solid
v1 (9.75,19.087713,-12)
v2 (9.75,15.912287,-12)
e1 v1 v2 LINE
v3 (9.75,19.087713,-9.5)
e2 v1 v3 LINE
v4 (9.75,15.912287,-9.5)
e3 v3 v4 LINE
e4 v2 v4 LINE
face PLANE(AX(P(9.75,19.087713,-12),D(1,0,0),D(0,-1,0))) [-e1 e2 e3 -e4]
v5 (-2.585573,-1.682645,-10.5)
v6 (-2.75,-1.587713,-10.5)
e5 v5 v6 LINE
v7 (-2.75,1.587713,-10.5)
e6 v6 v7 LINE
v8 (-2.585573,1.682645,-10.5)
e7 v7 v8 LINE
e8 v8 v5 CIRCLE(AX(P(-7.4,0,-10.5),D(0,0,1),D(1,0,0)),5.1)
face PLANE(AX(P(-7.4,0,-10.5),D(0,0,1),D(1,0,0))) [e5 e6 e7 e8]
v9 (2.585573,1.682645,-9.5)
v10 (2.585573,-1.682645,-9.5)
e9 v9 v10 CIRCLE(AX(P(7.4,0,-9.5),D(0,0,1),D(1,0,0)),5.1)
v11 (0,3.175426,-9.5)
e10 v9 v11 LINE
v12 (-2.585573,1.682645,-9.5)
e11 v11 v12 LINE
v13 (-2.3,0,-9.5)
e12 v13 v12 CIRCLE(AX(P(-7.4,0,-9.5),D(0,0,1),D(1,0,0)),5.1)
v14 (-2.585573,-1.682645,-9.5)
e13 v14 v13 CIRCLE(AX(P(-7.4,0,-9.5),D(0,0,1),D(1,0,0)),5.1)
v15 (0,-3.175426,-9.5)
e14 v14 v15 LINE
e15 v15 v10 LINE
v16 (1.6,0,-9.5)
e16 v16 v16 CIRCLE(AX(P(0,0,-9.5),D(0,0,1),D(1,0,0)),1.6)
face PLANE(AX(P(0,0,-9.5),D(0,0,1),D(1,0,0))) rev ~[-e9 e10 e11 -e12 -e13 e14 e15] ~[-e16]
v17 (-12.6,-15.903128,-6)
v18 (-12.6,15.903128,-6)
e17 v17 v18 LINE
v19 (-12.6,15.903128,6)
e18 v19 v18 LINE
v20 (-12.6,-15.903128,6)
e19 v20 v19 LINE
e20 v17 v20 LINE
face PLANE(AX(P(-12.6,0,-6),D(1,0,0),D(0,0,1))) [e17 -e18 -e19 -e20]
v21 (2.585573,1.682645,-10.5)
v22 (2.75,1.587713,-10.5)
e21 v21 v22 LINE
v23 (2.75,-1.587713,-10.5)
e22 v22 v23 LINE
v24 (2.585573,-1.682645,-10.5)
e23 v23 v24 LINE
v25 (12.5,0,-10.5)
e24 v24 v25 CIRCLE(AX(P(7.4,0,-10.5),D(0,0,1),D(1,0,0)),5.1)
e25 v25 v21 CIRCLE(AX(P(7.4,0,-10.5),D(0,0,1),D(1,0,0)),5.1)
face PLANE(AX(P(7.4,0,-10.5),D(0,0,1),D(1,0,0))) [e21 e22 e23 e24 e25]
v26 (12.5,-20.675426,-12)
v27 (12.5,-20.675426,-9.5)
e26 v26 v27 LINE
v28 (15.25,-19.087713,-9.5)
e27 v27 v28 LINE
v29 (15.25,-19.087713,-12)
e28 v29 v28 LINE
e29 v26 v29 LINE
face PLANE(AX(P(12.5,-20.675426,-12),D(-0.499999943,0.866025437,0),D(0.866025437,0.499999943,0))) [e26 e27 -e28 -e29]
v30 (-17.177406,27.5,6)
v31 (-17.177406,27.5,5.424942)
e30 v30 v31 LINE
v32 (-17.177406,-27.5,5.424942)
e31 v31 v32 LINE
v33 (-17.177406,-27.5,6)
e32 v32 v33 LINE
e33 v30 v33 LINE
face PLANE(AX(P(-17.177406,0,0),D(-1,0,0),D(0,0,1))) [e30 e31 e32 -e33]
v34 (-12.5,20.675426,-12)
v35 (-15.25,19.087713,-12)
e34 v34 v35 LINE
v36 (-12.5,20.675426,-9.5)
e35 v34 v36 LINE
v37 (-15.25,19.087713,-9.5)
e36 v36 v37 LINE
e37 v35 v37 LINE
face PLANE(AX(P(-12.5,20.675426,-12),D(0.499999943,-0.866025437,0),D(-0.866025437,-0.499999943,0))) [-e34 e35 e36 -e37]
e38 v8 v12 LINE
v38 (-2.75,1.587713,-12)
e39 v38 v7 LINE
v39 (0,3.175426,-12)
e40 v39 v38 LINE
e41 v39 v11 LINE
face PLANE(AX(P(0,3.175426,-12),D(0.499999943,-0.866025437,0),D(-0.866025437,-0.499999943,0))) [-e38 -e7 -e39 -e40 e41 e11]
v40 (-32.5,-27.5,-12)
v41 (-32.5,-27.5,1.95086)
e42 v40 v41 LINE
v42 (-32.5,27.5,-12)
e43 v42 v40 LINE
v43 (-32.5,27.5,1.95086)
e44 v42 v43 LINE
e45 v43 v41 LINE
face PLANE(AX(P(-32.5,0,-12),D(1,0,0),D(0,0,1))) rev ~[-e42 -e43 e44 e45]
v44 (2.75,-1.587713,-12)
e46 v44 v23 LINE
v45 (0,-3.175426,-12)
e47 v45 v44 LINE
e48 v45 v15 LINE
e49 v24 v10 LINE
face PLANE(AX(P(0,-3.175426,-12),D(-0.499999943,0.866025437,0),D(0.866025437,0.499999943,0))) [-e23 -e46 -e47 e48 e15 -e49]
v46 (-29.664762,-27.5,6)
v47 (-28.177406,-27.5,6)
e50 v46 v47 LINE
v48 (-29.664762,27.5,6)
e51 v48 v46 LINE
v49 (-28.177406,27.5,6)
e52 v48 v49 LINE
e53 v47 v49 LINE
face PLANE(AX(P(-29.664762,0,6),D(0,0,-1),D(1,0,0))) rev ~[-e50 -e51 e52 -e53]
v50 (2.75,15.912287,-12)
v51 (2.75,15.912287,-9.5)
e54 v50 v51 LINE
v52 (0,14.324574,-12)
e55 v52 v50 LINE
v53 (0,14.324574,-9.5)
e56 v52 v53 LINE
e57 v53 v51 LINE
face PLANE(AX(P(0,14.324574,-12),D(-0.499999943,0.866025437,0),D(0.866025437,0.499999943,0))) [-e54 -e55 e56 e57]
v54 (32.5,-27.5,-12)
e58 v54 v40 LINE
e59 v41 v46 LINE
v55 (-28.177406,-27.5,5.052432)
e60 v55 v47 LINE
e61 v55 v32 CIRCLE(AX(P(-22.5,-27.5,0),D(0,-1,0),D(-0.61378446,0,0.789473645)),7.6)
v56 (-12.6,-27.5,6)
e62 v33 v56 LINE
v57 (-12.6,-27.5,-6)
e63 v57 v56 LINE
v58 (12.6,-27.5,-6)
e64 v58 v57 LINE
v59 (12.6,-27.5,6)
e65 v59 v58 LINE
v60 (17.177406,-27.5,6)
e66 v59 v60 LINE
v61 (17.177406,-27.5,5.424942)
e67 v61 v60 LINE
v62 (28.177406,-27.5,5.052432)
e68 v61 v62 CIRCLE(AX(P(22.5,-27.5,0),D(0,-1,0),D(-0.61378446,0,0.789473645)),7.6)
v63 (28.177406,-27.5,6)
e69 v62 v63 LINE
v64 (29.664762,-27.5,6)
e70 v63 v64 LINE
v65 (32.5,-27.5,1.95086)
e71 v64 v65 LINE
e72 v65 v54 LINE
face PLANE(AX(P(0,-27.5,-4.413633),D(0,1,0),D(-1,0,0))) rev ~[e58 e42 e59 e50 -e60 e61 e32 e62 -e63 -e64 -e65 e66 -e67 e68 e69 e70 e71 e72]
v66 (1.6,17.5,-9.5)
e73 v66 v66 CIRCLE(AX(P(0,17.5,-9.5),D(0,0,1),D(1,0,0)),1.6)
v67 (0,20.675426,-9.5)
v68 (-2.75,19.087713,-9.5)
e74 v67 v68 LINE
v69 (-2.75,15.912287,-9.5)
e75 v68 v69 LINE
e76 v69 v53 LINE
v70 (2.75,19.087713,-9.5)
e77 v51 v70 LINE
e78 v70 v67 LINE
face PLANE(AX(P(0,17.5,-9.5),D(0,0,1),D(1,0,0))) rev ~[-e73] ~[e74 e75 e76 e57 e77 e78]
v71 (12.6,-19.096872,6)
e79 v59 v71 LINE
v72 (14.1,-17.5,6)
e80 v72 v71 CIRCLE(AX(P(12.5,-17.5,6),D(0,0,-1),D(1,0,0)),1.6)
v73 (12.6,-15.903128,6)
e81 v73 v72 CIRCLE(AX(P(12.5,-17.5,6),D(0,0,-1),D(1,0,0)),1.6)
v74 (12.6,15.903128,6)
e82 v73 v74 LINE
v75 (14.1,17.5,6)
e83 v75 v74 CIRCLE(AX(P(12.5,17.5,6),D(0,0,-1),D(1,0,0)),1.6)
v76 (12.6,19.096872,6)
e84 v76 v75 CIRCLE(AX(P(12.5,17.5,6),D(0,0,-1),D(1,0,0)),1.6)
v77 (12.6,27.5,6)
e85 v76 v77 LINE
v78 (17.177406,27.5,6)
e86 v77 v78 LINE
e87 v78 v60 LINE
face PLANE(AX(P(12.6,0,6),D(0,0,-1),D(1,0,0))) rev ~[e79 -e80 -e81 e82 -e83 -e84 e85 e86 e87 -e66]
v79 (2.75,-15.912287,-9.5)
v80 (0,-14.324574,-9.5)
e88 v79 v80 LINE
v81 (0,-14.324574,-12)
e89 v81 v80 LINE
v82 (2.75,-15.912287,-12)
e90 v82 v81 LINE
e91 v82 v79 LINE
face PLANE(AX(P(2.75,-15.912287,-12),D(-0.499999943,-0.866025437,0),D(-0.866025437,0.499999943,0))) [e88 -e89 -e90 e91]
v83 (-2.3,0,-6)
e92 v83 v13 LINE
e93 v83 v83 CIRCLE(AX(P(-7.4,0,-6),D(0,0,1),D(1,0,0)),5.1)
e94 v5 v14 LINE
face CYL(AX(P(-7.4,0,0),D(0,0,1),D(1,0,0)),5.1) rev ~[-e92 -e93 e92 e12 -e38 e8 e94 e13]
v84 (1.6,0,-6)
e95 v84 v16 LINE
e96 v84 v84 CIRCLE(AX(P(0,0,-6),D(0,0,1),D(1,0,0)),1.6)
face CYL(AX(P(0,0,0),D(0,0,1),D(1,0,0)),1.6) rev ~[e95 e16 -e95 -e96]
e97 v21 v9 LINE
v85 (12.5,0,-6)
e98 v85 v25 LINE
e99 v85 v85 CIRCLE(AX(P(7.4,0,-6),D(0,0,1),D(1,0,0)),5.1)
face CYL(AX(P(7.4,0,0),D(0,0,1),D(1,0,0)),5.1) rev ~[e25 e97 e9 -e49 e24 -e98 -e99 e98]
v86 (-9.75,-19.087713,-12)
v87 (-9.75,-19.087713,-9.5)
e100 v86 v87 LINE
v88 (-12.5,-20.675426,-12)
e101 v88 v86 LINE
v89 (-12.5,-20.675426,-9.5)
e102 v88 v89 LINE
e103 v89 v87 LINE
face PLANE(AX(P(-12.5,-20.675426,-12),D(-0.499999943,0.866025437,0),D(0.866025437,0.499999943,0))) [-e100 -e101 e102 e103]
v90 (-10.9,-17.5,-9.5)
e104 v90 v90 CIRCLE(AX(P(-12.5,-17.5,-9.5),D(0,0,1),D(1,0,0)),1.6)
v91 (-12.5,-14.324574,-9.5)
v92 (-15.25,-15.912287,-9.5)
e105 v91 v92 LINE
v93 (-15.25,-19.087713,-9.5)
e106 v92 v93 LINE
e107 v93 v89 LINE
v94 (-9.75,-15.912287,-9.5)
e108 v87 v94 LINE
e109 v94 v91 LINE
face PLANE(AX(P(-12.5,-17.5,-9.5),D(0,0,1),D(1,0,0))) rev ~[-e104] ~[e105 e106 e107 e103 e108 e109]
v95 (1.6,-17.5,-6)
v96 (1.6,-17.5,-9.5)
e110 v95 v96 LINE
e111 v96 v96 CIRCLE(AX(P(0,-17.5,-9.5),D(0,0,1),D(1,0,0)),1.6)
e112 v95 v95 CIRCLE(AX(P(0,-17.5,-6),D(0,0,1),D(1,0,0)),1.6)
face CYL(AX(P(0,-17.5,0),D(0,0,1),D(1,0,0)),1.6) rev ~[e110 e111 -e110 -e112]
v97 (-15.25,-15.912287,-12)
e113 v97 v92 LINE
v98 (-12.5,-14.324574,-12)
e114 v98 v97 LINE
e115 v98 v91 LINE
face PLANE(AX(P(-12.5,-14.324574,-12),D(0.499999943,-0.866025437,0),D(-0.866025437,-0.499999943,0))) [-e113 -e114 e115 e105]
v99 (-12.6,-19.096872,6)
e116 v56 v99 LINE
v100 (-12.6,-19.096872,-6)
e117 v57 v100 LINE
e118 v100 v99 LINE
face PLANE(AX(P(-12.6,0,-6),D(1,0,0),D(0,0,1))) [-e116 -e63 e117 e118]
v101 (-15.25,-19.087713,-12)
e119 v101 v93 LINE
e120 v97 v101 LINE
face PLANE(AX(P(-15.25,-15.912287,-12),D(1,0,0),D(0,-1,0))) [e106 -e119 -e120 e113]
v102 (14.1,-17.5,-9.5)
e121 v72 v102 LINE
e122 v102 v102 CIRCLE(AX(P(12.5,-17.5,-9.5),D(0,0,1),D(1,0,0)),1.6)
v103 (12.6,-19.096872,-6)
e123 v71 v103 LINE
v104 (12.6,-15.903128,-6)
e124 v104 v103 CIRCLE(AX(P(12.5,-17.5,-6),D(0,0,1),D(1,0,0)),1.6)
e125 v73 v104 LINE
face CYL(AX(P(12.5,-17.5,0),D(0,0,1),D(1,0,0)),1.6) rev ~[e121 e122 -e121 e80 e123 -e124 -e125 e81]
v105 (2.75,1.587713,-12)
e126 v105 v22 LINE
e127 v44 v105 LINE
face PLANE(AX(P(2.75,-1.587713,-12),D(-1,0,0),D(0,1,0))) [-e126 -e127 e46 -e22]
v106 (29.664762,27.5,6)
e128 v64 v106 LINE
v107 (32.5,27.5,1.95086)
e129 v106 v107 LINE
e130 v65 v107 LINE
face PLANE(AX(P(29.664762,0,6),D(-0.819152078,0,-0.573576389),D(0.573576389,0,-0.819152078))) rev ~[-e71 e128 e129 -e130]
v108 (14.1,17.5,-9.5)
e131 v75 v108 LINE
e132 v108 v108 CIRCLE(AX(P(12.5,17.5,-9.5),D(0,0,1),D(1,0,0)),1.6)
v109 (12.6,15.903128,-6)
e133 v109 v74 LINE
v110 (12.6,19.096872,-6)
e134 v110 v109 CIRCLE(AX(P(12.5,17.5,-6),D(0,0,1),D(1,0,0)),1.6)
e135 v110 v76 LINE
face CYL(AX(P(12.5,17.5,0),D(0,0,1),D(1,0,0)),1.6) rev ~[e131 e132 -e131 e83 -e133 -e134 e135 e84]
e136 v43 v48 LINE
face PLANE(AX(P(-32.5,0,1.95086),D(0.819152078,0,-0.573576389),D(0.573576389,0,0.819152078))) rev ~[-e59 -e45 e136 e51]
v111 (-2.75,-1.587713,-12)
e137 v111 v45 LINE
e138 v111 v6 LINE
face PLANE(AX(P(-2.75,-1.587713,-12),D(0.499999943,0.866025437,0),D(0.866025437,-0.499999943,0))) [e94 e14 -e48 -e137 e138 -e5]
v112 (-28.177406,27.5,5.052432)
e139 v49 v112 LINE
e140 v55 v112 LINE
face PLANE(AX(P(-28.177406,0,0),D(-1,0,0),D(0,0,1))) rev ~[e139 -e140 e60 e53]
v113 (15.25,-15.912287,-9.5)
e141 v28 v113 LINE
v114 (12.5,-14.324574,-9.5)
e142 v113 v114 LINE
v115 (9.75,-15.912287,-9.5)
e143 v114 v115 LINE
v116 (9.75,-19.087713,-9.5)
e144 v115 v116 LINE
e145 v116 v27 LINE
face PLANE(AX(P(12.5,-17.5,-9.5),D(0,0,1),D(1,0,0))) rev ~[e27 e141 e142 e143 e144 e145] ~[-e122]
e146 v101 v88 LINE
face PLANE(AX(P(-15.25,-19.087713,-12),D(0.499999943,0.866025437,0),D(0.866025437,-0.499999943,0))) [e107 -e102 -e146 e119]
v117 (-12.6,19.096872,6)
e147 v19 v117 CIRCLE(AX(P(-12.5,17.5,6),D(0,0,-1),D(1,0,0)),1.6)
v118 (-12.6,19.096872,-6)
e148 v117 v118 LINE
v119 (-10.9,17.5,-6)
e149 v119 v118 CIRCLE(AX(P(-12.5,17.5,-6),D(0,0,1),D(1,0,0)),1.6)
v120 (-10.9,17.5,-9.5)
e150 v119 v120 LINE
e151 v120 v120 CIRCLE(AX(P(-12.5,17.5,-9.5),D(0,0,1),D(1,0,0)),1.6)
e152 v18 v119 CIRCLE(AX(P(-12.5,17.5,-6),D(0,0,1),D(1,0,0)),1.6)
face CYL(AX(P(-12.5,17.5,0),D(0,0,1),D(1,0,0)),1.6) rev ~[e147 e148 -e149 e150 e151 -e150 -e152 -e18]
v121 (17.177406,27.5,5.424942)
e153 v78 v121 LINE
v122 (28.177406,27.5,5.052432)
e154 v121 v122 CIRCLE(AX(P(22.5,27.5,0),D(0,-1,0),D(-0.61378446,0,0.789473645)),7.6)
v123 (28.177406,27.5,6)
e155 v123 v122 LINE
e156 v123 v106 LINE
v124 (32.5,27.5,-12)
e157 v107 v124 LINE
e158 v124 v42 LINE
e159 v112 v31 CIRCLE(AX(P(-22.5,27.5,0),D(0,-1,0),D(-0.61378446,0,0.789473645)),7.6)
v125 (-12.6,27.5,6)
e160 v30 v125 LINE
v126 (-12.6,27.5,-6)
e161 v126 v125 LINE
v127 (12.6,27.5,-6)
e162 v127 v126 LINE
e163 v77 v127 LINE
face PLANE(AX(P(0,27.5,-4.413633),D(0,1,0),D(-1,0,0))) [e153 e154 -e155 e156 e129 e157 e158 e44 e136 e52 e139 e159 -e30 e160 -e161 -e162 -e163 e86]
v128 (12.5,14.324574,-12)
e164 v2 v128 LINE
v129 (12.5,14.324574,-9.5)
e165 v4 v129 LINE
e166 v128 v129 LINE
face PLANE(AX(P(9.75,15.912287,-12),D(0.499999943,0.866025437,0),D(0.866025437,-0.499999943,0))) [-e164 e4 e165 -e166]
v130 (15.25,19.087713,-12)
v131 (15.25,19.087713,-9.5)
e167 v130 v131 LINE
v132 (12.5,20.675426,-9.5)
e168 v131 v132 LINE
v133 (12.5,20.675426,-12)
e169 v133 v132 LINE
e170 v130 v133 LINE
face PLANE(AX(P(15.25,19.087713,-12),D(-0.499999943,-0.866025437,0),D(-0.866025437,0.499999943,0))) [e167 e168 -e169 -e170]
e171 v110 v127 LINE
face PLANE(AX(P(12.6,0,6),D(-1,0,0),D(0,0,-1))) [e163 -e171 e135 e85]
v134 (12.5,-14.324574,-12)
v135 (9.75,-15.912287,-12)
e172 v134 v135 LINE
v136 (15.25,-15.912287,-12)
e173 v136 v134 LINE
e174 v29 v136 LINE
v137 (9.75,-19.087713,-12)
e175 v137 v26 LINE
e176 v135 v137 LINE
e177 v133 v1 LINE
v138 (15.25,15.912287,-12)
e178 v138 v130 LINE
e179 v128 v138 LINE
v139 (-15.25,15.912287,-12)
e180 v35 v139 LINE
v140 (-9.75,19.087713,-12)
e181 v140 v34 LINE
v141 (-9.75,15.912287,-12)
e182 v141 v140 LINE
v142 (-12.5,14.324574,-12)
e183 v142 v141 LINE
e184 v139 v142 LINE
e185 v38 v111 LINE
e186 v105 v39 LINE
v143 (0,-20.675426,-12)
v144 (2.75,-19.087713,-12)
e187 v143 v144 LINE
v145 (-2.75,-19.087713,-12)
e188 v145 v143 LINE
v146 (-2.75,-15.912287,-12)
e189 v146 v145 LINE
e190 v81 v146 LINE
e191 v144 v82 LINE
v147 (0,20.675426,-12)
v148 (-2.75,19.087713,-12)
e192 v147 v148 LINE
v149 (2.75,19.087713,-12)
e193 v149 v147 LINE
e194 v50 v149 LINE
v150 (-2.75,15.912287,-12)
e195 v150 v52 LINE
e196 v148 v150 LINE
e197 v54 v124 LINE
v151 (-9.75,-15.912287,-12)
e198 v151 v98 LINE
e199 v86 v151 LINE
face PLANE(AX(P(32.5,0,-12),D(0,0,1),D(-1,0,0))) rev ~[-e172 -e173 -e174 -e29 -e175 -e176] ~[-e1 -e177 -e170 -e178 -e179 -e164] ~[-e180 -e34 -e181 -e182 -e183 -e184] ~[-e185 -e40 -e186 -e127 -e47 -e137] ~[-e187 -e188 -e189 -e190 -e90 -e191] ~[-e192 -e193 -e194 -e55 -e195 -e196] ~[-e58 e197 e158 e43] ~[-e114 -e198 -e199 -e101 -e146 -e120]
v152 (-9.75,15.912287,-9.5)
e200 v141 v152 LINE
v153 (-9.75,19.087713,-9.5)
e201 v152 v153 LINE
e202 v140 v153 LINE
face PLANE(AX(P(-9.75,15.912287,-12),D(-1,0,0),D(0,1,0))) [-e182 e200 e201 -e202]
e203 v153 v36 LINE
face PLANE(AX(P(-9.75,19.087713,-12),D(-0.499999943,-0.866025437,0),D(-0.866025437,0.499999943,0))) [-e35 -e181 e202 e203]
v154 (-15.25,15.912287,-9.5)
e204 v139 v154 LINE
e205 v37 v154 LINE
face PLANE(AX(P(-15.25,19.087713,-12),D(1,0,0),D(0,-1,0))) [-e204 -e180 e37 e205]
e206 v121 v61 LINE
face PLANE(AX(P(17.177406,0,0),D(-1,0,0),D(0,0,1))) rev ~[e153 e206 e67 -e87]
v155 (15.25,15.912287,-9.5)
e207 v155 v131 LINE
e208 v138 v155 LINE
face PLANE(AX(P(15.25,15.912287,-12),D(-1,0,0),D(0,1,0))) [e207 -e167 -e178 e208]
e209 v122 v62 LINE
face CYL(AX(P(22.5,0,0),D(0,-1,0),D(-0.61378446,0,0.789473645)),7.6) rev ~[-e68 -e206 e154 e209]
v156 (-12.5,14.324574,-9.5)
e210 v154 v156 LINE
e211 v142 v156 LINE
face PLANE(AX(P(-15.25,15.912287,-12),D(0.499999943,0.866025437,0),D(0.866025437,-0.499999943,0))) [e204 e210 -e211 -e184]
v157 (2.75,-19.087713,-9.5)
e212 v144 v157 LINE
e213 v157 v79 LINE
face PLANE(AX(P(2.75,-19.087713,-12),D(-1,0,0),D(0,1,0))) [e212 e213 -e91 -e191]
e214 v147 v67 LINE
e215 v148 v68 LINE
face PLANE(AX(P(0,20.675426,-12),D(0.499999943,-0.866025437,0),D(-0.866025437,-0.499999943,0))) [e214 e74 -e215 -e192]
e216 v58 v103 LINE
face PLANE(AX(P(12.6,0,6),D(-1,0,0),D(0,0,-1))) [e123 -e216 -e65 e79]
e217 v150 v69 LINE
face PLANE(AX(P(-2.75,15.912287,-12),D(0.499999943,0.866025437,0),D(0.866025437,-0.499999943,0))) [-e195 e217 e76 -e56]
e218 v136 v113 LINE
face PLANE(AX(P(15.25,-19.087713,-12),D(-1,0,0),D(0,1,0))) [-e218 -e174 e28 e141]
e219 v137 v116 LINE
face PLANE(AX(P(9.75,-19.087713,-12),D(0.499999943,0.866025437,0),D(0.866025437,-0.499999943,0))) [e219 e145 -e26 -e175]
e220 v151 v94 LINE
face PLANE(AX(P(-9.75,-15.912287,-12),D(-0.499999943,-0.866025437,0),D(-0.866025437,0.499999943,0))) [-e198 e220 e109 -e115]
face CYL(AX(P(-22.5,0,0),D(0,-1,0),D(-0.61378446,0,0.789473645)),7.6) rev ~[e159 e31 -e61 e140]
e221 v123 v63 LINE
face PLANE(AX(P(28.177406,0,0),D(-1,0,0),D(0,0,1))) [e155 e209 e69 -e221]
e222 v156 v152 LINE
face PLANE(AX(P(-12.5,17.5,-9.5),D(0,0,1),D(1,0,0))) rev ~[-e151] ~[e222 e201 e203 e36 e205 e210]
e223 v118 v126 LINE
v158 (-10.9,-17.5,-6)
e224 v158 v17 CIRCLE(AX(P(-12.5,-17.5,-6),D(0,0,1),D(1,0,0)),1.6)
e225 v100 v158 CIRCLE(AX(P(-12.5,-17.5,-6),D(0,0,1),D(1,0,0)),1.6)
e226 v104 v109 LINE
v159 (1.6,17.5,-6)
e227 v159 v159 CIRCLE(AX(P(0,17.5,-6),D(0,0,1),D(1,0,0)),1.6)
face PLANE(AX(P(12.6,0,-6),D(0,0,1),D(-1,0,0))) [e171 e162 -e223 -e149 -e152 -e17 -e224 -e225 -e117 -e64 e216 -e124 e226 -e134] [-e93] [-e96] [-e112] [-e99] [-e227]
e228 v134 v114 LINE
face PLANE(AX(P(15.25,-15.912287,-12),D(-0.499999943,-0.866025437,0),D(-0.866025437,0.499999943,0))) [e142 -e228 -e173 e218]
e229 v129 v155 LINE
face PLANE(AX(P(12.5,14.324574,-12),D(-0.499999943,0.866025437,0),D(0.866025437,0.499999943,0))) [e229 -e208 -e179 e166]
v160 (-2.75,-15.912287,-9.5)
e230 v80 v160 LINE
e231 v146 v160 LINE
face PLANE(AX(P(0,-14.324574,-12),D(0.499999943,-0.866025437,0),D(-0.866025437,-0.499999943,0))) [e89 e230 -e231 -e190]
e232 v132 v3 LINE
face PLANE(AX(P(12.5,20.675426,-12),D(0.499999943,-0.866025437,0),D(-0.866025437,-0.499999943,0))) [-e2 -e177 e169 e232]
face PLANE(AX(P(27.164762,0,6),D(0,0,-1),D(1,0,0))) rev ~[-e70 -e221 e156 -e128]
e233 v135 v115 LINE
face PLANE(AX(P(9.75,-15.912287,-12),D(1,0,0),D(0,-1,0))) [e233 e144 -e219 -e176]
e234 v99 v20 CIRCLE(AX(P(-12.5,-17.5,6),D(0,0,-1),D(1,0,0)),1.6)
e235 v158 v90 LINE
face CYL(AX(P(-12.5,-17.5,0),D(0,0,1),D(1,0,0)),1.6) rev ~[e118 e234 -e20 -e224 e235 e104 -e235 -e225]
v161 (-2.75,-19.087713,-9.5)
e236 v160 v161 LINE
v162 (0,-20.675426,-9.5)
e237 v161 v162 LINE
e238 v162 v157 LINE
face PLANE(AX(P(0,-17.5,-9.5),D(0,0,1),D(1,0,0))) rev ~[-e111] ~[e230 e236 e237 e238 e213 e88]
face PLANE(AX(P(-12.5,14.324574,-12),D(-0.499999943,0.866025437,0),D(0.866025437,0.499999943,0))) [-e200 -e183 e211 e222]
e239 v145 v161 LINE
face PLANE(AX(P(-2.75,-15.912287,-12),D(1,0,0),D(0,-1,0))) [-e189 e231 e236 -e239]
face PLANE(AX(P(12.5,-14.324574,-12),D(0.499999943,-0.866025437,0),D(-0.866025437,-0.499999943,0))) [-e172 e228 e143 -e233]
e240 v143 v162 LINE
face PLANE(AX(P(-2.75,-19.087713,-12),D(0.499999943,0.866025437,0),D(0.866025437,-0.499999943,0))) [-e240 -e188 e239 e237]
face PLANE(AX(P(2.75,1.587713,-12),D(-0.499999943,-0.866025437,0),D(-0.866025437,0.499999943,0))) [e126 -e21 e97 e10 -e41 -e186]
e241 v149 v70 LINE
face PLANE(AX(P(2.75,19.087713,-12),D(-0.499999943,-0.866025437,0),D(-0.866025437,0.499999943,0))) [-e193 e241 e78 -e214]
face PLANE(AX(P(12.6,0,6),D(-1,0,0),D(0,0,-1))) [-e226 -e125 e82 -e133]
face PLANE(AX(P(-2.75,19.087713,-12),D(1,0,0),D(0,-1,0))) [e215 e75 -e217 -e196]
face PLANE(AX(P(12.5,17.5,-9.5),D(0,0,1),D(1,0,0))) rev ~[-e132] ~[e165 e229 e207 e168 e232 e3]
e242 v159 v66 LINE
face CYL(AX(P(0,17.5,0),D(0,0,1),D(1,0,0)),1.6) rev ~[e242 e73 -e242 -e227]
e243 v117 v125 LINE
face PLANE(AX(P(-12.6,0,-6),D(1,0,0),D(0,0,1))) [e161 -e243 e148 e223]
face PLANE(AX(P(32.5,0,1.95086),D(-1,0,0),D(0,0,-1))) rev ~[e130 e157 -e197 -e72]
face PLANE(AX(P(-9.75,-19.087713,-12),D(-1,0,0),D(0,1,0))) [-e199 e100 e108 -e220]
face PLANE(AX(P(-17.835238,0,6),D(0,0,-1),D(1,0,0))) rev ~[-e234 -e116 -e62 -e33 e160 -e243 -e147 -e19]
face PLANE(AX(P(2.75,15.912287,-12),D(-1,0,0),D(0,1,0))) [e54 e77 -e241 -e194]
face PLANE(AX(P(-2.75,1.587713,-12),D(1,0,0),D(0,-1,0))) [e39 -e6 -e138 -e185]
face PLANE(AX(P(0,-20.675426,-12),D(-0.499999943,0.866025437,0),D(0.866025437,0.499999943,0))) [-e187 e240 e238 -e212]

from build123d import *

# Parameters (mm, degrees)
PAD_DEPTH            = 27.5
SKETCH001_R          = 1.6
POCKET_DEPTH         = 12.001
POCKET_DEPTH_BACK    = -6.001
SKETCH002_R          = 5.1
POCKET001_DEPTH      = 10.5
SKETCH004_W          = 11
SKETCH004_H          = 11
POCKET003_DEPTH      = 27.501
POCKET003_DEPTH_BACK = -27.501
POCKET004_DEPTH      = 2.5


with BuildPart() as part:
    # Sketch → Pad (new body, symmetric)
    with BuildSketch(Plane.XZ):
        with BuildLine():
            Line((-29.664762, 6), (-27.164762, 6))
            ThreePointArc((-27.164762, 6), (-22.5, -7.6), (-17.835238, 6))
            Line((-17.835238, 6), (-12.6, 6))
            Line((-12.6, -6), (-12.6, 6))
            Line((12.6, -6), (-12.6, -6))
            Line((12.6, 6), (12.6, -6))
            Line((12.6, 6), (17.835238, 6))
            ThreePointArc((17.835238, 6), (22.5, -7.6), (27.164762, 6))
            Line((27.164762, 6), (29.664762, 6))
            Line((29.664762, 6), (32.5, 1.95086))
            Line((32.5, 1.95086), (32.5, -12))
            Line((32.5, -12), (-32.5, -12))
            Line((-32.5, -12), (-32.5, 1.95086))
            Line((-32.5, 1.95086), (-29.664762, 6))
        make_face()
    extrude(amount=PAD_DEPTH, both=True)

    # Sketch001 → Pocket (cut, two sides)
    with BuildSketch(Plane.XY) as pocket_sk:
        with Locations((-12.5, 17.5)):
            Circle(SKETCH001_R)
        with Locations((-12.5, -17.5)):
            Circle(SKETCH001_R)
        with Locations((12.5, 17.5)):
            Circle(SKETCH001_R)
        with Locations((12.5, -17.5)):
            Circle(SKETCH001_R)
        with Locations((0, 17.5)):
            Circle(SKETCH001_R)
        with Locations((0, -17.5)):
            Circle(SKETCH001_R)
        Circle(SKETCH001_R)
    extrude(amount=-POCKET_DEPTH, mode=Mode.SUBTRACT)
    extrude(pocket_sk.sketch, amount=-POCKET_DEPTH_BACK, mode=Mode.SUBTRACT)

    # Sketch002 → Pocket001 (cut)
    with BuildSketch(Plane.XY):
        with Locations((-7.4, 0)):
            Circle(SKETCH002_R)
        with Locations((7.4, 0)):
            Circle(SKETCH002_R)
    extrude(amount=-POCKET001_DEPTH, mode=Mode.SUBTRACT)

    # Sketch004 → Pocket003 (cut, two sides)
    with BuildSketch(Plane.XZ) as pocket003_sk:
        with Locations((-22.677406, 5.5)):
            Rectangle(SKETCH004_W, SKETCH004_H)
        with Locations((22.677406, 5.5)):
            Rectangle(SKETCH004_W, SKETCH004_H)
    extrude(amount=-POCKET003_DEPTH, mode=Mode.SUBTRACT)
    extrude(pocket003_sk.sketch, amount=-POCKET003_DEPTH_BACK, mode=Mode.SUBTRACT)

    # Sketch005 (on DatumPlane) → Pocket004 (cut)
    with BuildSketch(Plane.XY.offset(-12)):
        Polygon((-9.75, 15.912287), (-9.75, 19.087713), (-12.5, 20.675426), (-15.25, 19.087713), (-15.25, 15.912287), (-12.5, 14.324574), align=None)
        Polygon((2.75, 15.912287), (2.75, 19.087713), (0, 20.675426), (-2.75, 19.087713), (-2.75, 15.912287), (0, 14.324574), align=None)
        Polygon((15.25, 15.912287), (15.25, 19.087713), (12.5, 20.675426), (9.75, 19.087713), (9.75, 15.912287), (12.5, 14.324574), align=None)
        Polygon((2.75, -1.587713), (2.75, 1.587713), (0, 3.175426), (-2.75, 1.587713), (-2.75, -1.587713), (0, -3.175426), align=None)
        Polygon((-9.75, -15.912287), (-12.5, -14.324574), (-15.25, -15.912287), (-15.25, -19.087713), (-12.5, -20.675426), (-9.75, -19.087713), align=None)
        Polygon((2.75, -19.087713), (2.75, -15.912287), (0, -14.324574), (-2.75, -15.912287), (-2.75, -19.087713), (0, -20.675426), align=None)
        Polygon((15.25, -19.087713), (15.25, -15.912287), (12.5, -14.324574), (9.75, -15.912287), (9.75, -19.087713), (12.5, -20.675426), align=None)
    extrude(amount=POCKET004_DEPTH, mode=Mode.SUBTRACT)


solid = part.part
